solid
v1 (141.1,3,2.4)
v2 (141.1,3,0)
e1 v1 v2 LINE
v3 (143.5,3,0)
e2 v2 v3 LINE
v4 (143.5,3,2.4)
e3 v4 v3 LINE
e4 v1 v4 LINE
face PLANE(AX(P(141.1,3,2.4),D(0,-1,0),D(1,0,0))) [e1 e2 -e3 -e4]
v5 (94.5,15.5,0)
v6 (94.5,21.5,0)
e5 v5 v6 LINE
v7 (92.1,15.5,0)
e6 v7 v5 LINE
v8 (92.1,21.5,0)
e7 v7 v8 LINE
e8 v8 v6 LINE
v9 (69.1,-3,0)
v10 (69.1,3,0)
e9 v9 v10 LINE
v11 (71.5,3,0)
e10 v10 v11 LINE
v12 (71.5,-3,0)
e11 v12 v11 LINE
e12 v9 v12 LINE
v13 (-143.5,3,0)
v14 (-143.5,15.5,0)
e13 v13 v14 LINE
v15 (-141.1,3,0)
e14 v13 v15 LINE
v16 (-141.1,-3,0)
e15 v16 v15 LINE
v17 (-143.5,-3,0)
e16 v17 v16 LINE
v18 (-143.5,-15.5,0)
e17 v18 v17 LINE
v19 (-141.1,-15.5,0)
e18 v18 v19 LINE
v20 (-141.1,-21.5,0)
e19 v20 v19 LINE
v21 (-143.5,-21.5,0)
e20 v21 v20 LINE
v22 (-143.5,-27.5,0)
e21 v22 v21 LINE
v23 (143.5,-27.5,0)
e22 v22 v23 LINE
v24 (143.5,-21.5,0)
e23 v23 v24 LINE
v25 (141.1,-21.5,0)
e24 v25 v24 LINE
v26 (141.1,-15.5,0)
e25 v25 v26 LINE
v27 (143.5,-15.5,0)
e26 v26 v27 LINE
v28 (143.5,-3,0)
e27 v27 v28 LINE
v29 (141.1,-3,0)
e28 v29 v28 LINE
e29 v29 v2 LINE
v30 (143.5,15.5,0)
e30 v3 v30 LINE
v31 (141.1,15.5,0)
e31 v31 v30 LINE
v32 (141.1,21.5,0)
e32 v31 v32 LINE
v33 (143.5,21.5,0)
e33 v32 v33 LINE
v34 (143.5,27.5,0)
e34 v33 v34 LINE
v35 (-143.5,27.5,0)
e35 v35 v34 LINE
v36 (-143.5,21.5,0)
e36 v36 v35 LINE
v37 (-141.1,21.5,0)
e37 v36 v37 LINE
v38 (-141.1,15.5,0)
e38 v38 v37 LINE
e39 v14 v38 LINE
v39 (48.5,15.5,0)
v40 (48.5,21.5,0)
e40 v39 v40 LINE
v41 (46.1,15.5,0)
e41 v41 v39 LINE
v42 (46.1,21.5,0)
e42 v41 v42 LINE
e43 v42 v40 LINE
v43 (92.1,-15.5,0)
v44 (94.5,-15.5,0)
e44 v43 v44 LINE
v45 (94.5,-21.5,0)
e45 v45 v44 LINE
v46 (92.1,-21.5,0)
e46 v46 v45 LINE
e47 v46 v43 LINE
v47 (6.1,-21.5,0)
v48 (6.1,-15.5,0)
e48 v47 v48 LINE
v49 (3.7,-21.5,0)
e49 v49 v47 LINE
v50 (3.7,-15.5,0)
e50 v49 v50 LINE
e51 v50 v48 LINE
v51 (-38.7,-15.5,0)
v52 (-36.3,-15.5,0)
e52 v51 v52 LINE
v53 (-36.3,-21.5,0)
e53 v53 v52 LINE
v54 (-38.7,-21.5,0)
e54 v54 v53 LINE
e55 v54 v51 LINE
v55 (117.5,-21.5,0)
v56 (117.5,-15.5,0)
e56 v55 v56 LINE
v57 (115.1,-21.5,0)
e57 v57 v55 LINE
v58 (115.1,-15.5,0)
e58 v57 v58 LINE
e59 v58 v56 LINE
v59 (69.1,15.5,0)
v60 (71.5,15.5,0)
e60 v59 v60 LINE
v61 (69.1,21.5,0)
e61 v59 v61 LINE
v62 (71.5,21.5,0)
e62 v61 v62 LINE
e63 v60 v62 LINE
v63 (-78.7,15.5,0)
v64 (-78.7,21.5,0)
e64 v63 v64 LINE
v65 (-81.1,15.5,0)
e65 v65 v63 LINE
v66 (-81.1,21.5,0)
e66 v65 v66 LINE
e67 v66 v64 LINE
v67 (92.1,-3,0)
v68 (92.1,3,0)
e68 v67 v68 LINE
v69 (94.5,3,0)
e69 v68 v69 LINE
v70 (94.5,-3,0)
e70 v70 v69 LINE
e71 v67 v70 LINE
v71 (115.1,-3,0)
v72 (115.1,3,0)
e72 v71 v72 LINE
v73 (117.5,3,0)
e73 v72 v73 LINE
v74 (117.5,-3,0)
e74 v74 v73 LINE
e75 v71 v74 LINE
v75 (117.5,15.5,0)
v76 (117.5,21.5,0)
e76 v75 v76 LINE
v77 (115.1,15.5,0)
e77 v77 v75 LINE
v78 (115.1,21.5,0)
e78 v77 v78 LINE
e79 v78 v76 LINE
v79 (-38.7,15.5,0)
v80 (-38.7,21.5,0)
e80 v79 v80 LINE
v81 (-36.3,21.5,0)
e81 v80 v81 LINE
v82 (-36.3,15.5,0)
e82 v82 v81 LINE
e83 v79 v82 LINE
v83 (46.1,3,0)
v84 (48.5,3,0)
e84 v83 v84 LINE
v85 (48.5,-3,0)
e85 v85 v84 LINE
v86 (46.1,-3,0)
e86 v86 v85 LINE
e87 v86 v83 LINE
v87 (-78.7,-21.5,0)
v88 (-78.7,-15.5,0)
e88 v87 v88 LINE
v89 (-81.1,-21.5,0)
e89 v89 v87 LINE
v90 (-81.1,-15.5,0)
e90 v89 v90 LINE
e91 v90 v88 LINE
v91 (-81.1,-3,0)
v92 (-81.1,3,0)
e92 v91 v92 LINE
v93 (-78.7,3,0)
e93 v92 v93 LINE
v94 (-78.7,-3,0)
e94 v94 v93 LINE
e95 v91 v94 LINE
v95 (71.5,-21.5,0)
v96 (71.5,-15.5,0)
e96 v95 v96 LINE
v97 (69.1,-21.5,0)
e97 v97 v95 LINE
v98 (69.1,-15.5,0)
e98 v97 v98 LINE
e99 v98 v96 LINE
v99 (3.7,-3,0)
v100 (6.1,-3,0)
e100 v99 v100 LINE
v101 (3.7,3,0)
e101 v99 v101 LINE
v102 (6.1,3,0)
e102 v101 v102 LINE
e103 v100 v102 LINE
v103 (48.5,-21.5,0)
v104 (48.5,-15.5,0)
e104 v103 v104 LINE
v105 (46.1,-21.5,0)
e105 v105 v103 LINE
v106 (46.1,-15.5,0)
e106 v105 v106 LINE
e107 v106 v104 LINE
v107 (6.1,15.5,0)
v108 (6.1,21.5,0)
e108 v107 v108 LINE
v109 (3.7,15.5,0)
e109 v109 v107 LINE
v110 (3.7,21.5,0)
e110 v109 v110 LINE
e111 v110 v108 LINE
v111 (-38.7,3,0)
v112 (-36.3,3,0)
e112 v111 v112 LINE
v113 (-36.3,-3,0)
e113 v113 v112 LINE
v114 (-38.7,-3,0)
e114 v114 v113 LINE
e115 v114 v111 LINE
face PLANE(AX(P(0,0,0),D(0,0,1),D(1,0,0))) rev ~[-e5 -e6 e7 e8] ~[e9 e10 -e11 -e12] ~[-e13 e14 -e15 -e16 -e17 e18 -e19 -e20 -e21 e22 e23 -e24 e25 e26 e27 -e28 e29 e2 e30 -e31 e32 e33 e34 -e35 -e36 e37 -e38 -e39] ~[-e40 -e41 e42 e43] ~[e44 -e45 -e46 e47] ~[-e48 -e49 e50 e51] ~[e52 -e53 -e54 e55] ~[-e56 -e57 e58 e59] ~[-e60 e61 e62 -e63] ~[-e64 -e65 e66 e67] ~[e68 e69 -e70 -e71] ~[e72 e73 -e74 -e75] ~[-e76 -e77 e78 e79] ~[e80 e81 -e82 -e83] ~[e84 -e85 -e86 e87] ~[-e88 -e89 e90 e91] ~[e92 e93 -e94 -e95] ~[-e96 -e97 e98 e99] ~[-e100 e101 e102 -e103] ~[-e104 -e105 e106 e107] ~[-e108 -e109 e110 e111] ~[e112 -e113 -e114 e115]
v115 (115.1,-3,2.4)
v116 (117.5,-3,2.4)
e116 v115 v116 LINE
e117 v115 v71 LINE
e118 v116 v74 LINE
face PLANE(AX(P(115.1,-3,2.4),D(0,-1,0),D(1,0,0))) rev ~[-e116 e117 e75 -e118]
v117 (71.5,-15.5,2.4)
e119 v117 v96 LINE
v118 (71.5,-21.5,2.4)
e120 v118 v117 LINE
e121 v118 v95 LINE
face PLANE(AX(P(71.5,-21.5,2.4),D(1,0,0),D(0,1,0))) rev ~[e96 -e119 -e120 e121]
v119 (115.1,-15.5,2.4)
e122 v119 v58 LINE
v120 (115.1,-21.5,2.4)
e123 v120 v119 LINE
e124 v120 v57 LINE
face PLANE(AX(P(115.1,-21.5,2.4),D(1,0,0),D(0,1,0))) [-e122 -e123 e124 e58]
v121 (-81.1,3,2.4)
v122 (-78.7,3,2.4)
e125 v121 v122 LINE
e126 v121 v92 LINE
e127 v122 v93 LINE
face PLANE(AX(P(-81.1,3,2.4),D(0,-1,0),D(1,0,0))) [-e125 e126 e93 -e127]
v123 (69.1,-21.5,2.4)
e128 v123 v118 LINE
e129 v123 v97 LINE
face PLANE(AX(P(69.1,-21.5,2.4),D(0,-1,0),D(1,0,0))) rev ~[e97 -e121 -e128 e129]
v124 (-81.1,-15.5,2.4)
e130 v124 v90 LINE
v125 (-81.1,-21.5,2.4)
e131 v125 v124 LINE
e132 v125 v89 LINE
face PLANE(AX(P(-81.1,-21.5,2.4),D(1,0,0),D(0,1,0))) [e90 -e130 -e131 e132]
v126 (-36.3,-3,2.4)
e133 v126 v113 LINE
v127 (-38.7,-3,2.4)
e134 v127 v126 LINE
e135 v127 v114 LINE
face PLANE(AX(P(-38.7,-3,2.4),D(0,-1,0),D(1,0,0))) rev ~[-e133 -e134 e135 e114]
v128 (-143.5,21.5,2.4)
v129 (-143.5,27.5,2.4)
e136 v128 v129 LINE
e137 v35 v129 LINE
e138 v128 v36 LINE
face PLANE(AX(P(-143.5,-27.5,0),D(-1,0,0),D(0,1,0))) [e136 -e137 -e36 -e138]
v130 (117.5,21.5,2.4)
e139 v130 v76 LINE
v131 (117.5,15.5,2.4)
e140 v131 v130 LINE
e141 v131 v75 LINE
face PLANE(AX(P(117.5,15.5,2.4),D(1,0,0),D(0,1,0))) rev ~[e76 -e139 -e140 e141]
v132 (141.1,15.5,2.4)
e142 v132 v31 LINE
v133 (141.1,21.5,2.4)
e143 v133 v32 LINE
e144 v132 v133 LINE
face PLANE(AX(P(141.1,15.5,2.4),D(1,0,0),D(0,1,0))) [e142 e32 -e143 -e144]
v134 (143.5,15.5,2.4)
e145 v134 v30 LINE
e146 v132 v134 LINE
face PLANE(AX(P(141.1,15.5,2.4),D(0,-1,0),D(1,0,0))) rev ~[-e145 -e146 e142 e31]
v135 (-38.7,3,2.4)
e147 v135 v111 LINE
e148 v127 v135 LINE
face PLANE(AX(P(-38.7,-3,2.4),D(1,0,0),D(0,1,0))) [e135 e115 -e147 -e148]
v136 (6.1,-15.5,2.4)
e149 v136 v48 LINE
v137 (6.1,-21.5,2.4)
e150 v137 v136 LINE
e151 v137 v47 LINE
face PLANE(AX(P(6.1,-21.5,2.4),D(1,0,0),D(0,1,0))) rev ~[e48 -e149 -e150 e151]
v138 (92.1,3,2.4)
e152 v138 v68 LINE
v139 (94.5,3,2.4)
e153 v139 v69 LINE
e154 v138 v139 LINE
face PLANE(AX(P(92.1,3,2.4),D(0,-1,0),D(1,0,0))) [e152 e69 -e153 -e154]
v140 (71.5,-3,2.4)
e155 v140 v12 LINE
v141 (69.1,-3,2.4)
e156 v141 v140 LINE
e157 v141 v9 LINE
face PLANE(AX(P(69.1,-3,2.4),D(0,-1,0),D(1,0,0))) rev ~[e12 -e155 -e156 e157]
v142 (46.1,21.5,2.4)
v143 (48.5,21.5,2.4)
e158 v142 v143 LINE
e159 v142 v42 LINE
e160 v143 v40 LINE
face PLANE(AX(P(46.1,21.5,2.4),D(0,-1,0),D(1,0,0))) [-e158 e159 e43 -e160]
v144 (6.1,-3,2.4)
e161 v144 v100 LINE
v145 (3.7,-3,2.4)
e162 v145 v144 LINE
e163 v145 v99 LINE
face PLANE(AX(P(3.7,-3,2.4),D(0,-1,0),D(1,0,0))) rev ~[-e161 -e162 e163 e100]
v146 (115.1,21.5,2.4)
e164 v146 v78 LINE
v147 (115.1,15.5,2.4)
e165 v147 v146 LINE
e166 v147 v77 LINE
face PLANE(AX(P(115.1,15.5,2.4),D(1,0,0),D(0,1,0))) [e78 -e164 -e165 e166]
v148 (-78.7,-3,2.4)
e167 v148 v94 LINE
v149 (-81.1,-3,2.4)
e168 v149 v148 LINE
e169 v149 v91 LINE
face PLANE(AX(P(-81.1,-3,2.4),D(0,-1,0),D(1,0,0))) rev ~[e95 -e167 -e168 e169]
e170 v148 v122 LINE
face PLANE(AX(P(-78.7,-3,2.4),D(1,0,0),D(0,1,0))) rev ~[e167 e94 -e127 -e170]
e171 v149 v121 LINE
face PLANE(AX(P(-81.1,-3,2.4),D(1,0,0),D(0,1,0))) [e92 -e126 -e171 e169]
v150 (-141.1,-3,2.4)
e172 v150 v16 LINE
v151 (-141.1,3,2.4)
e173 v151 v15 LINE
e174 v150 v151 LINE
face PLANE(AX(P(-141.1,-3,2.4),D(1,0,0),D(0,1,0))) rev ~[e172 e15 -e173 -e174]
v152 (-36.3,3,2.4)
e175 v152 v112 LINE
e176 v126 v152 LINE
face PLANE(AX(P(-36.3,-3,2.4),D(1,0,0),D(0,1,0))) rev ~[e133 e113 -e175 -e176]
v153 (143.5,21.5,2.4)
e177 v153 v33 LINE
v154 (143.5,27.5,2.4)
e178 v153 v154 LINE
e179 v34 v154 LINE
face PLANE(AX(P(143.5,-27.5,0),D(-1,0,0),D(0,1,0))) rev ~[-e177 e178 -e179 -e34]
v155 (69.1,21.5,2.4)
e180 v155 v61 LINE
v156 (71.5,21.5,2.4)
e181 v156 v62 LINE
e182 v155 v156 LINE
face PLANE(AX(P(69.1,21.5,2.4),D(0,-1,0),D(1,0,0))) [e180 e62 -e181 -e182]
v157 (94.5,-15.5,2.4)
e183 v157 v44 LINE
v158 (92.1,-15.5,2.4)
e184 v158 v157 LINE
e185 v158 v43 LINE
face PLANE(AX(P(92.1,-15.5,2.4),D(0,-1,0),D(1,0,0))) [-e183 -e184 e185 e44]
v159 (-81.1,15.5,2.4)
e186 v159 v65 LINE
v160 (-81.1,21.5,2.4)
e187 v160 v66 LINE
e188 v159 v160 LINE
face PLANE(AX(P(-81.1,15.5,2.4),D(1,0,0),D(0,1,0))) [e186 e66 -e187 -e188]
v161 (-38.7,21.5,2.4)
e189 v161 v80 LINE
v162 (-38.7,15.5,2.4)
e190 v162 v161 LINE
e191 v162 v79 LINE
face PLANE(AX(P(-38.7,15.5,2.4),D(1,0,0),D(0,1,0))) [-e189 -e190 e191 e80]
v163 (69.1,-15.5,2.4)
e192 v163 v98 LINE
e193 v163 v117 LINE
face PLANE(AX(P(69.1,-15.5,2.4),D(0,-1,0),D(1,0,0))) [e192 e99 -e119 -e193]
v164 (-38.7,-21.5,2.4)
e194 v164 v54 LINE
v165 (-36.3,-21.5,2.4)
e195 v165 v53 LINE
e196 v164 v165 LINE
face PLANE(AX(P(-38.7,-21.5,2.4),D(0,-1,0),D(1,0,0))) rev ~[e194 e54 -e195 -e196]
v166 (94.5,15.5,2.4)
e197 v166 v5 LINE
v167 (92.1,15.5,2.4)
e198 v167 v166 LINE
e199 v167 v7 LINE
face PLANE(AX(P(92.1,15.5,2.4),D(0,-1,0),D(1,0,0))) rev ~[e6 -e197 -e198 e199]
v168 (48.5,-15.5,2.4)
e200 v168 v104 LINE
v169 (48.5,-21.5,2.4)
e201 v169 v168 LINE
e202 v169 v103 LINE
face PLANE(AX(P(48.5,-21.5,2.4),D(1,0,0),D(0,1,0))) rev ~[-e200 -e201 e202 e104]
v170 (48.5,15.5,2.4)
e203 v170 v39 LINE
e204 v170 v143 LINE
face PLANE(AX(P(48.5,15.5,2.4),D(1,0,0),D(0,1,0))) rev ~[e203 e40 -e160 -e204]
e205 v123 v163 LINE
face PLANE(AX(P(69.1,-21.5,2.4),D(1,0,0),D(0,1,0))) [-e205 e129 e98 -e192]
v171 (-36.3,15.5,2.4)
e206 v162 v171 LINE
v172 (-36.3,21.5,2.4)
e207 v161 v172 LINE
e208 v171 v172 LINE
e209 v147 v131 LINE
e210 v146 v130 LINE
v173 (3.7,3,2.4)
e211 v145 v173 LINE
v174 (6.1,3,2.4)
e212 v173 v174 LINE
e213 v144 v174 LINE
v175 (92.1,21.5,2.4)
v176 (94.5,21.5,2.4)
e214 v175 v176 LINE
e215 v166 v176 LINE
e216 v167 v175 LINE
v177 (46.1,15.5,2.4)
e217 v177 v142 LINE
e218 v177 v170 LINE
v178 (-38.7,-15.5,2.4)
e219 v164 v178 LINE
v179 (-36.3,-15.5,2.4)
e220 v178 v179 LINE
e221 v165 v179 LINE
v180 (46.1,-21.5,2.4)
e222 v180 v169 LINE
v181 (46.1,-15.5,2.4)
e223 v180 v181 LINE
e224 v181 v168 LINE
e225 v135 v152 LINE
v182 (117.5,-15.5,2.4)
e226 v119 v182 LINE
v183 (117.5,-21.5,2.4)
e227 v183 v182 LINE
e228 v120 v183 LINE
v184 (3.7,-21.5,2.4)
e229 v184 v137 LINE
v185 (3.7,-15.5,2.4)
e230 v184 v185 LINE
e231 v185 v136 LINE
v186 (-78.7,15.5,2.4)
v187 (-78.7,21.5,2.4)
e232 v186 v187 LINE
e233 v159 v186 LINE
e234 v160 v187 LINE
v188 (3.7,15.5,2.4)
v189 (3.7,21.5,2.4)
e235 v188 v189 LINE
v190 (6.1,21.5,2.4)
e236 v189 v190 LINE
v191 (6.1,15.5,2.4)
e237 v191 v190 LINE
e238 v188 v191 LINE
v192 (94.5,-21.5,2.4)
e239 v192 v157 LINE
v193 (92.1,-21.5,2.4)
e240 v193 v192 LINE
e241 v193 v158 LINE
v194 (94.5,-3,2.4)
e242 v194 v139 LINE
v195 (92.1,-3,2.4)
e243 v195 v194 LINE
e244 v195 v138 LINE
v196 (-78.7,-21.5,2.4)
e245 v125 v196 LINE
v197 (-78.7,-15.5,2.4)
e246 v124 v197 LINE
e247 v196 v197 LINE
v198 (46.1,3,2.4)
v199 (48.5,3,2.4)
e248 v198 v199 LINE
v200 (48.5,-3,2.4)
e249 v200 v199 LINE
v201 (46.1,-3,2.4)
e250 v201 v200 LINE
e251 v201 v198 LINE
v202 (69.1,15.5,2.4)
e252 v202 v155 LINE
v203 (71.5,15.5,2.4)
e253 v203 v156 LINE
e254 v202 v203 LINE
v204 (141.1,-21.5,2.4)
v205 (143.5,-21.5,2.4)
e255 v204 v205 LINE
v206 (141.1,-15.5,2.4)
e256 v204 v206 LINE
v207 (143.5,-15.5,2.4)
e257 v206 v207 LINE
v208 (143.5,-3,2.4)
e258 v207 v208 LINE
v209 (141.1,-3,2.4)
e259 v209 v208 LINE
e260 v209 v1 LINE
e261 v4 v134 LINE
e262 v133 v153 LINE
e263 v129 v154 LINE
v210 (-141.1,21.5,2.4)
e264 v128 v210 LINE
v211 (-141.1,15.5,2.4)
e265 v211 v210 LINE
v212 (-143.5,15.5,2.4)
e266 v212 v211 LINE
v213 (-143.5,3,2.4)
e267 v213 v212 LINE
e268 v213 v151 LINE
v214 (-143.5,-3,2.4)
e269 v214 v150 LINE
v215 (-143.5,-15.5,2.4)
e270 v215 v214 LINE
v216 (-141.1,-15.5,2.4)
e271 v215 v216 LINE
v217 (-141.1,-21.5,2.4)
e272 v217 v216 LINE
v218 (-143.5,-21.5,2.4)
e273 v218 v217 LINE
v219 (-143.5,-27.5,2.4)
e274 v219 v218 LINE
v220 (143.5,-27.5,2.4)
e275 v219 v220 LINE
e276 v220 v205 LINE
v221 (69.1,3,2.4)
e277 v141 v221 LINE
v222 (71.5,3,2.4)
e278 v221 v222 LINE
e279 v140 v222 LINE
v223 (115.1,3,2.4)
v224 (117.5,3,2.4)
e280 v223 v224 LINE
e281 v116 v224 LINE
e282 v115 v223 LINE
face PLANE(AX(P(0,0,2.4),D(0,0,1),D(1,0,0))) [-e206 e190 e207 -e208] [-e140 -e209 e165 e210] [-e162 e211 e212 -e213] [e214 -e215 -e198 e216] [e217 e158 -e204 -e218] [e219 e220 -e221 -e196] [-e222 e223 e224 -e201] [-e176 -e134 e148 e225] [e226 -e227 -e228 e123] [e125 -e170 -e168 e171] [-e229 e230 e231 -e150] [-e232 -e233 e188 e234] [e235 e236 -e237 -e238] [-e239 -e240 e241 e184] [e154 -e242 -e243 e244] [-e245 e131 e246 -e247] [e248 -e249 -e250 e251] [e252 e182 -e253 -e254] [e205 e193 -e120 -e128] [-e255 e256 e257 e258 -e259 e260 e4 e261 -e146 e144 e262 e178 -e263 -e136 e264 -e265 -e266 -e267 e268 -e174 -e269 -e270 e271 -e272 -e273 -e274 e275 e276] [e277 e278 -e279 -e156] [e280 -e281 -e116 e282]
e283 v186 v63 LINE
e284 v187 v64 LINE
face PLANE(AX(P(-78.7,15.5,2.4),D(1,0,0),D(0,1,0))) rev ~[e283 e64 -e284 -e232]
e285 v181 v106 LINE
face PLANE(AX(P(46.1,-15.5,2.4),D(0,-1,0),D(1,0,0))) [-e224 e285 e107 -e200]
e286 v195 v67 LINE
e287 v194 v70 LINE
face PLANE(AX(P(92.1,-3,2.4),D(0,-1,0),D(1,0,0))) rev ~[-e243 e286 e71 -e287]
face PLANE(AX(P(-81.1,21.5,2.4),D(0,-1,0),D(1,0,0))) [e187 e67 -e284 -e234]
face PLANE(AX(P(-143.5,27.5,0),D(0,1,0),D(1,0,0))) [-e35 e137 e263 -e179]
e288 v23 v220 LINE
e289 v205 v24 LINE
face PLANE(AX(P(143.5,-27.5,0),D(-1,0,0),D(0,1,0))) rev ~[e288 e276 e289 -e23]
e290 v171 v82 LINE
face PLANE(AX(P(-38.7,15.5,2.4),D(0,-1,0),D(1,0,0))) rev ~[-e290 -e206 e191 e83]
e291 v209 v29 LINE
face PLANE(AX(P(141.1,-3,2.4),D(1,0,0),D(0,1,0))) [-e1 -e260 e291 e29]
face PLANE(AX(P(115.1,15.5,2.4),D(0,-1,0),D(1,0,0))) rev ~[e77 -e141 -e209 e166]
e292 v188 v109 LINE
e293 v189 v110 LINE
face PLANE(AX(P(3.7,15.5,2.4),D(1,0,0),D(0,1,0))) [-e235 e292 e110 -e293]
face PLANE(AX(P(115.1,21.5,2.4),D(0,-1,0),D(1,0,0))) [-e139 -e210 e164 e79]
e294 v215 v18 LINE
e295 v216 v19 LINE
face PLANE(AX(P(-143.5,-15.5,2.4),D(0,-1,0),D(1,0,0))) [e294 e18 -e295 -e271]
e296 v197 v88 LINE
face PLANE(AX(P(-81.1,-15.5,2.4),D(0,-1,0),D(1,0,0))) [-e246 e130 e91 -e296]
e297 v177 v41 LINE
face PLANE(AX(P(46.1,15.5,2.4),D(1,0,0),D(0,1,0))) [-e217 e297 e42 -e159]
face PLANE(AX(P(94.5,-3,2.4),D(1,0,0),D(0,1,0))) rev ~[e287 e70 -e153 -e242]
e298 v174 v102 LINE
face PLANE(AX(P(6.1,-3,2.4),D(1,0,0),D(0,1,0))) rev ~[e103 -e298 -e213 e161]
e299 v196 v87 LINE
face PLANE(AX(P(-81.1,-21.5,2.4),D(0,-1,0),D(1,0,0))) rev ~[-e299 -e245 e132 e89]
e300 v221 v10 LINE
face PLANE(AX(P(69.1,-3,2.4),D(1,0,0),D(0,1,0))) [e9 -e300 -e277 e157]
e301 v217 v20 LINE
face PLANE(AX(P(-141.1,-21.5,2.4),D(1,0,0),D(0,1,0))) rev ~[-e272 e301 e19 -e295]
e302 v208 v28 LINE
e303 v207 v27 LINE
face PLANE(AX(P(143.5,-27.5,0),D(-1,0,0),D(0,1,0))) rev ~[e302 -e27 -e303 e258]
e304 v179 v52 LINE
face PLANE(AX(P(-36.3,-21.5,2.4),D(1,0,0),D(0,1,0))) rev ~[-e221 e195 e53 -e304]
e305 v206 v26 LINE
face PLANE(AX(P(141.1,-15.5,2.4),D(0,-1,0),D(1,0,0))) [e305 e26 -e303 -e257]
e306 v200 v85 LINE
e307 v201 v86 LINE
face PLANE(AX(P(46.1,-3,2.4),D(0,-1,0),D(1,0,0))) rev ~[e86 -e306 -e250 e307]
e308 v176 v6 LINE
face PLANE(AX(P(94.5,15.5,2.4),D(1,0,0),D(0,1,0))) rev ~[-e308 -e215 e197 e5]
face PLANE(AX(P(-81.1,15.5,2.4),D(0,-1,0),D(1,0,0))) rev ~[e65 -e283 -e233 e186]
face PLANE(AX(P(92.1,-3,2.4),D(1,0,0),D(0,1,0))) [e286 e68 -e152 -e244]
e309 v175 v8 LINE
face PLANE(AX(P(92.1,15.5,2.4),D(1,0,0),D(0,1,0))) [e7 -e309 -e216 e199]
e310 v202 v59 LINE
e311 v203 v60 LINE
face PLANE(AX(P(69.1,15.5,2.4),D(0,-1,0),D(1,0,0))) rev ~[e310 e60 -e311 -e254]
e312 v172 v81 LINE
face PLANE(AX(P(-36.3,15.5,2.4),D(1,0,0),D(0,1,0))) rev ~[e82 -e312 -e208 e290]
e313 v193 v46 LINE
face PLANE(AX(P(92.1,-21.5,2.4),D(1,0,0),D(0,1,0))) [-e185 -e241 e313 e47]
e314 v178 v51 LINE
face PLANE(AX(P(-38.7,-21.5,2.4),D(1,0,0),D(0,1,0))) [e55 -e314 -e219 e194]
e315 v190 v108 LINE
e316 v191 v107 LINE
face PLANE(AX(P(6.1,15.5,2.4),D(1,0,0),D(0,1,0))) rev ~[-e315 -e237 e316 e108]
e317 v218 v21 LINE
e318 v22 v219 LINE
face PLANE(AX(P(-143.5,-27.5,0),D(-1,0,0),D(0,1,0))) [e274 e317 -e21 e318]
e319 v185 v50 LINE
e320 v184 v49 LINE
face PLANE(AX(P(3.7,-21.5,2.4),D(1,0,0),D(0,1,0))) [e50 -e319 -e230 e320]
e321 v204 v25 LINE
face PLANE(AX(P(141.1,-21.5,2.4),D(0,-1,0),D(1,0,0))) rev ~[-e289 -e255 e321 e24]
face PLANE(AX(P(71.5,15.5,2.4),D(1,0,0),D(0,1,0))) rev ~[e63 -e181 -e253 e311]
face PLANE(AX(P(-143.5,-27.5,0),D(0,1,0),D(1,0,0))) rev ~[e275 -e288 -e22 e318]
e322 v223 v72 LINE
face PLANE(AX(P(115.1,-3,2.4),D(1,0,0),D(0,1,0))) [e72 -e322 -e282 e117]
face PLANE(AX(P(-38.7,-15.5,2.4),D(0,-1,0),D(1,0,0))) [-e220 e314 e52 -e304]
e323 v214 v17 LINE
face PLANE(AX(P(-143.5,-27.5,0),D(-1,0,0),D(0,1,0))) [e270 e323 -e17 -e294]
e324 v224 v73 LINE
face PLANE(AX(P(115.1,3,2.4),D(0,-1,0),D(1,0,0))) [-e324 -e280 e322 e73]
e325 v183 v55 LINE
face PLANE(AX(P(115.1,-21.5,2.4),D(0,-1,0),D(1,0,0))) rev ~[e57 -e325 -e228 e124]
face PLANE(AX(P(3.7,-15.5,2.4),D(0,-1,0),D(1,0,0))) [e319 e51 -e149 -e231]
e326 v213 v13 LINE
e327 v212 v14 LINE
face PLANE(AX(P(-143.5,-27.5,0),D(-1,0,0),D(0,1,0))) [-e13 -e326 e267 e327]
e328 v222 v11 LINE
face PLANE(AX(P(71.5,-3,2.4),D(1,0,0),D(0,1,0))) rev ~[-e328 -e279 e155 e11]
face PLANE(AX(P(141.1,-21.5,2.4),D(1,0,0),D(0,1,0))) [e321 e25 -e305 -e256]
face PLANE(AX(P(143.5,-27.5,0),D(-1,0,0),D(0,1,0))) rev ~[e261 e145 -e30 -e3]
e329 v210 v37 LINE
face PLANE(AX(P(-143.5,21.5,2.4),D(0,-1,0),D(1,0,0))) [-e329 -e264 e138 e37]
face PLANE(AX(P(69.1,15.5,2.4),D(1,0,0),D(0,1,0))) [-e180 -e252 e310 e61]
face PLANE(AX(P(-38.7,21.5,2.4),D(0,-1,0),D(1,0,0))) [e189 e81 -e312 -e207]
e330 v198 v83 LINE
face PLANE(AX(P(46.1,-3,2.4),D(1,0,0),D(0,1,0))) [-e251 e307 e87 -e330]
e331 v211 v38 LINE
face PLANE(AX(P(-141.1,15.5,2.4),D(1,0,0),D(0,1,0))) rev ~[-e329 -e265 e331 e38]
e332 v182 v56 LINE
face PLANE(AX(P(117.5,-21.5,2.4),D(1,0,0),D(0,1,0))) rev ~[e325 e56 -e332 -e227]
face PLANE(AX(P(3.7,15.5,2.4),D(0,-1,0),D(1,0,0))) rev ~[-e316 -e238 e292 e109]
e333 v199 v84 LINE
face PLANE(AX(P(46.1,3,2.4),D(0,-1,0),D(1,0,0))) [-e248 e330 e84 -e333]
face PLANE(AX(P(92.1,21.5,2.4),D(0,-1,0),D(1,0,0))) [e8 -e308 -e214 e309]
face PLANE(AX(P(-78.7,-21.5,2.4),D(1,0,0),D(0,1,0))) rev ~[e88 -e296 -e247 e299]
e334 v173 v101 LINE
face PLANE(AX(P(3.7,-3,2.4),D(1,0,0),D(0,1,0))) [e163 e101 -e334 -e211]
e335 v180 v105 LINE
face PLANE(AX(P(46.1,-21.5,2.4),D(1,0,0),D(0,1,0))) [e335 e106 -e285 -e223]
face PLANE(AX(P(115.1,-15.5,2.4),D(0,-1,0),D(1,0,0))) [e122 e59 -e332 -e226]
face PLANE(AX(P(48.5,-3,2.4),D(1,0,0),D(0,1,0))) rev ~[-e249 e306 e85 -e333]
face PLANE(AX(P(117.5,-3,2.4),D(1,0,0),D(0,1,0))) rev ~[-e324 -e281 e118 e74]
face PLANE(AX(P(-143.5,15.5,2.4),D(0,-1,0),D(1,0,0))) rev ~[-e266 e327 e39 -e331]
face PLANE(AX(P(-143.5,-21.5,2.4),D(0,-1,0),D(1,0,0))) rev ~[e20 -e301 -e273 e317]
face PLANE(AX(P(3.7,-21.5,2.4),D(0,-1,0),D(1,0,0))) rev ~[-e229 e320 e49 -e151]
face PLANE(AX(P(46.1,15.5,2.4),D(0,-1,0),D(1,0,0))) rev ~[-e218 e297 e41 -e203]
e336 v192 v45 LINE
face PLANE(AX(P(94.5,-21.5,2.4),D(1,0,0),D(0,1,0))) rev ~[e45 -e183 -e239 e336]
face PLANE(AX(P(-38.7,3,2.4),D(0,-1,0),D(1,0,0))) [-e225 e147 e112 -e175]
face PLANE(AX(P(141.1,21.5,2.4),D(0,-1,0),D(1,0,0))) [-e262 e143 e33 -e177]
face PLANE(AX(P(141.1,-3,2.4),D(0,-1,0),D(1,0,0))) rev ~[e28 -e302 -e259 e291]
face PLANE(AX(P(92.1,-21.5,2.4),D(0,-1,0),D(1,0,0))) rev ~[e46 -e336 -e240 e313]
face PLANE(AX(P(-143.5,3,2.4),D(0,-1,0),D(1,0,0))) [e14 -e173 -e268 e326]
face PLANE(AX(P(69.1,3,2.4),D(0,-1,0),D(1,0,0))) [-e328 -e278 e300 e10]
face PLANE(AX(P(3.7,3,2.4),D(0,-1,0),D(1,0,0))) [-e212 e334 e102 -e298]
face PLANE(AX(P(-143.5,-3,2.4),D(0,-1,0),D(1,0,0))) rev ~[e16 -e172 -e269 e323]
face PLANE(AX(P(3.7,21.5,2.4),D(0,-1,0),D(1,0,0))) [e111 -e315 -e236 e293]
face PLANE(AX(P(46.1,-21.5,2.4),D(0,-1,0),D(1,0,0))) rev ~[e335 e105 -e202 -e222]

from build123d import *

# Parameters (mm, degrees)
F0_W     = 287
F0_H     = 55
F1_DEPTH = 2.4
F2_W     = 2.4
F2_H     = 6
F3_DEPTH = 2.401


with BuildPart() as f1:
    # F0 (on Top) → F1 (new body)
    with BuildSketch(Plane.XY):
        Rectangle(F0_W, F0_H)
    extrude(amount=F1_DEPTH)

    # F2 (on face) → F3 (cut, through all)
    with BuildSketch(Plane.XY.offset(2.4)):
        with Locations((-142.3, 0)):
            Rectangle(F2_W, F2_H)
        with Locations((-142.3, -18.5)):
            Rectangle(F2_W, F2_H)
        with Locations((-142.3, 18.5)):
            Rectangle(F2_W, F2_H)
        with Locations((-79.9, 18.5)):
            Rectangle(F2_W, F2_H)
        with Locations((-79.9, 0)):
            Rectangle(F2_W, F2_H)
        with Locations((-79.9, -18.5)):
            Rectangle(F2_W, F2_H)
        with Locations((-37.5, -18.5)):
            Rectangle(F2_W, F2_H)
        with Locations((-37.5, 0)):
            Rectangle(F2_W, F2_H)
        with Locations((-37.5, 18.5)):
            Rectangle(F2_W, F2_H)
        with Locations((4.9, 18.5)):
            Rectangle(F2_W, F2_H)
        with Locations((4.9, 0)):
            Rectangle(F2_W, F2_H)
        with Locations((4.9, -18.5)):
            Rectangle(F2_W, F2_H)
        with Locations((47.3, -18.5)):
            Rectangle(F2_W, F2_H)
        with Locations((47.3, 0)):
            Rectangle(F2_W, F2_H)
        with Locations((47.3, 18.5)):
            Rectangle(F2_W, F2_H)
        with Locations((70.3, 18.5)):
            Rectangle(F2_W, F2_H)
        with Locations((70.3, 0)):
            Rectangle(F2_W, F2_H)
        with Locations((70.3, -18.5)):
            Rectangle(F2_W, F2_H)
        with Locations((93.3, -18.5)):
            Rectangle(F2_W, F2_H)
        with Locations((93.3, 0)):
            Rectangle(F2_W, F2_H)
        with Locations((93.3, 18.5)):
            Rectangle(F2_W, F2_H)
        with Locations((116.3, 18.5)):
            Rectangle(F2_W, F2_H)
        with Locations((116.3, 0)):
            Rectangle(F2_W, F2_H)
        with Locations((116.3, -18.5)):
            Rectangle(F2_W, F2_H)
        with Locations((142.3, 18.5)):
            Rectangle(F2_W, F2_H)
        with Locations((142.3, 0)):
            Rectangle(F2_W, F2_H)
        with Locations((142.3, -18.5)):
            Rectangle(F2_W, F2_H)
    extrude(amount=-F3_DEPTH, mode=Mode.SUBTRACT)


solid = f1.part
